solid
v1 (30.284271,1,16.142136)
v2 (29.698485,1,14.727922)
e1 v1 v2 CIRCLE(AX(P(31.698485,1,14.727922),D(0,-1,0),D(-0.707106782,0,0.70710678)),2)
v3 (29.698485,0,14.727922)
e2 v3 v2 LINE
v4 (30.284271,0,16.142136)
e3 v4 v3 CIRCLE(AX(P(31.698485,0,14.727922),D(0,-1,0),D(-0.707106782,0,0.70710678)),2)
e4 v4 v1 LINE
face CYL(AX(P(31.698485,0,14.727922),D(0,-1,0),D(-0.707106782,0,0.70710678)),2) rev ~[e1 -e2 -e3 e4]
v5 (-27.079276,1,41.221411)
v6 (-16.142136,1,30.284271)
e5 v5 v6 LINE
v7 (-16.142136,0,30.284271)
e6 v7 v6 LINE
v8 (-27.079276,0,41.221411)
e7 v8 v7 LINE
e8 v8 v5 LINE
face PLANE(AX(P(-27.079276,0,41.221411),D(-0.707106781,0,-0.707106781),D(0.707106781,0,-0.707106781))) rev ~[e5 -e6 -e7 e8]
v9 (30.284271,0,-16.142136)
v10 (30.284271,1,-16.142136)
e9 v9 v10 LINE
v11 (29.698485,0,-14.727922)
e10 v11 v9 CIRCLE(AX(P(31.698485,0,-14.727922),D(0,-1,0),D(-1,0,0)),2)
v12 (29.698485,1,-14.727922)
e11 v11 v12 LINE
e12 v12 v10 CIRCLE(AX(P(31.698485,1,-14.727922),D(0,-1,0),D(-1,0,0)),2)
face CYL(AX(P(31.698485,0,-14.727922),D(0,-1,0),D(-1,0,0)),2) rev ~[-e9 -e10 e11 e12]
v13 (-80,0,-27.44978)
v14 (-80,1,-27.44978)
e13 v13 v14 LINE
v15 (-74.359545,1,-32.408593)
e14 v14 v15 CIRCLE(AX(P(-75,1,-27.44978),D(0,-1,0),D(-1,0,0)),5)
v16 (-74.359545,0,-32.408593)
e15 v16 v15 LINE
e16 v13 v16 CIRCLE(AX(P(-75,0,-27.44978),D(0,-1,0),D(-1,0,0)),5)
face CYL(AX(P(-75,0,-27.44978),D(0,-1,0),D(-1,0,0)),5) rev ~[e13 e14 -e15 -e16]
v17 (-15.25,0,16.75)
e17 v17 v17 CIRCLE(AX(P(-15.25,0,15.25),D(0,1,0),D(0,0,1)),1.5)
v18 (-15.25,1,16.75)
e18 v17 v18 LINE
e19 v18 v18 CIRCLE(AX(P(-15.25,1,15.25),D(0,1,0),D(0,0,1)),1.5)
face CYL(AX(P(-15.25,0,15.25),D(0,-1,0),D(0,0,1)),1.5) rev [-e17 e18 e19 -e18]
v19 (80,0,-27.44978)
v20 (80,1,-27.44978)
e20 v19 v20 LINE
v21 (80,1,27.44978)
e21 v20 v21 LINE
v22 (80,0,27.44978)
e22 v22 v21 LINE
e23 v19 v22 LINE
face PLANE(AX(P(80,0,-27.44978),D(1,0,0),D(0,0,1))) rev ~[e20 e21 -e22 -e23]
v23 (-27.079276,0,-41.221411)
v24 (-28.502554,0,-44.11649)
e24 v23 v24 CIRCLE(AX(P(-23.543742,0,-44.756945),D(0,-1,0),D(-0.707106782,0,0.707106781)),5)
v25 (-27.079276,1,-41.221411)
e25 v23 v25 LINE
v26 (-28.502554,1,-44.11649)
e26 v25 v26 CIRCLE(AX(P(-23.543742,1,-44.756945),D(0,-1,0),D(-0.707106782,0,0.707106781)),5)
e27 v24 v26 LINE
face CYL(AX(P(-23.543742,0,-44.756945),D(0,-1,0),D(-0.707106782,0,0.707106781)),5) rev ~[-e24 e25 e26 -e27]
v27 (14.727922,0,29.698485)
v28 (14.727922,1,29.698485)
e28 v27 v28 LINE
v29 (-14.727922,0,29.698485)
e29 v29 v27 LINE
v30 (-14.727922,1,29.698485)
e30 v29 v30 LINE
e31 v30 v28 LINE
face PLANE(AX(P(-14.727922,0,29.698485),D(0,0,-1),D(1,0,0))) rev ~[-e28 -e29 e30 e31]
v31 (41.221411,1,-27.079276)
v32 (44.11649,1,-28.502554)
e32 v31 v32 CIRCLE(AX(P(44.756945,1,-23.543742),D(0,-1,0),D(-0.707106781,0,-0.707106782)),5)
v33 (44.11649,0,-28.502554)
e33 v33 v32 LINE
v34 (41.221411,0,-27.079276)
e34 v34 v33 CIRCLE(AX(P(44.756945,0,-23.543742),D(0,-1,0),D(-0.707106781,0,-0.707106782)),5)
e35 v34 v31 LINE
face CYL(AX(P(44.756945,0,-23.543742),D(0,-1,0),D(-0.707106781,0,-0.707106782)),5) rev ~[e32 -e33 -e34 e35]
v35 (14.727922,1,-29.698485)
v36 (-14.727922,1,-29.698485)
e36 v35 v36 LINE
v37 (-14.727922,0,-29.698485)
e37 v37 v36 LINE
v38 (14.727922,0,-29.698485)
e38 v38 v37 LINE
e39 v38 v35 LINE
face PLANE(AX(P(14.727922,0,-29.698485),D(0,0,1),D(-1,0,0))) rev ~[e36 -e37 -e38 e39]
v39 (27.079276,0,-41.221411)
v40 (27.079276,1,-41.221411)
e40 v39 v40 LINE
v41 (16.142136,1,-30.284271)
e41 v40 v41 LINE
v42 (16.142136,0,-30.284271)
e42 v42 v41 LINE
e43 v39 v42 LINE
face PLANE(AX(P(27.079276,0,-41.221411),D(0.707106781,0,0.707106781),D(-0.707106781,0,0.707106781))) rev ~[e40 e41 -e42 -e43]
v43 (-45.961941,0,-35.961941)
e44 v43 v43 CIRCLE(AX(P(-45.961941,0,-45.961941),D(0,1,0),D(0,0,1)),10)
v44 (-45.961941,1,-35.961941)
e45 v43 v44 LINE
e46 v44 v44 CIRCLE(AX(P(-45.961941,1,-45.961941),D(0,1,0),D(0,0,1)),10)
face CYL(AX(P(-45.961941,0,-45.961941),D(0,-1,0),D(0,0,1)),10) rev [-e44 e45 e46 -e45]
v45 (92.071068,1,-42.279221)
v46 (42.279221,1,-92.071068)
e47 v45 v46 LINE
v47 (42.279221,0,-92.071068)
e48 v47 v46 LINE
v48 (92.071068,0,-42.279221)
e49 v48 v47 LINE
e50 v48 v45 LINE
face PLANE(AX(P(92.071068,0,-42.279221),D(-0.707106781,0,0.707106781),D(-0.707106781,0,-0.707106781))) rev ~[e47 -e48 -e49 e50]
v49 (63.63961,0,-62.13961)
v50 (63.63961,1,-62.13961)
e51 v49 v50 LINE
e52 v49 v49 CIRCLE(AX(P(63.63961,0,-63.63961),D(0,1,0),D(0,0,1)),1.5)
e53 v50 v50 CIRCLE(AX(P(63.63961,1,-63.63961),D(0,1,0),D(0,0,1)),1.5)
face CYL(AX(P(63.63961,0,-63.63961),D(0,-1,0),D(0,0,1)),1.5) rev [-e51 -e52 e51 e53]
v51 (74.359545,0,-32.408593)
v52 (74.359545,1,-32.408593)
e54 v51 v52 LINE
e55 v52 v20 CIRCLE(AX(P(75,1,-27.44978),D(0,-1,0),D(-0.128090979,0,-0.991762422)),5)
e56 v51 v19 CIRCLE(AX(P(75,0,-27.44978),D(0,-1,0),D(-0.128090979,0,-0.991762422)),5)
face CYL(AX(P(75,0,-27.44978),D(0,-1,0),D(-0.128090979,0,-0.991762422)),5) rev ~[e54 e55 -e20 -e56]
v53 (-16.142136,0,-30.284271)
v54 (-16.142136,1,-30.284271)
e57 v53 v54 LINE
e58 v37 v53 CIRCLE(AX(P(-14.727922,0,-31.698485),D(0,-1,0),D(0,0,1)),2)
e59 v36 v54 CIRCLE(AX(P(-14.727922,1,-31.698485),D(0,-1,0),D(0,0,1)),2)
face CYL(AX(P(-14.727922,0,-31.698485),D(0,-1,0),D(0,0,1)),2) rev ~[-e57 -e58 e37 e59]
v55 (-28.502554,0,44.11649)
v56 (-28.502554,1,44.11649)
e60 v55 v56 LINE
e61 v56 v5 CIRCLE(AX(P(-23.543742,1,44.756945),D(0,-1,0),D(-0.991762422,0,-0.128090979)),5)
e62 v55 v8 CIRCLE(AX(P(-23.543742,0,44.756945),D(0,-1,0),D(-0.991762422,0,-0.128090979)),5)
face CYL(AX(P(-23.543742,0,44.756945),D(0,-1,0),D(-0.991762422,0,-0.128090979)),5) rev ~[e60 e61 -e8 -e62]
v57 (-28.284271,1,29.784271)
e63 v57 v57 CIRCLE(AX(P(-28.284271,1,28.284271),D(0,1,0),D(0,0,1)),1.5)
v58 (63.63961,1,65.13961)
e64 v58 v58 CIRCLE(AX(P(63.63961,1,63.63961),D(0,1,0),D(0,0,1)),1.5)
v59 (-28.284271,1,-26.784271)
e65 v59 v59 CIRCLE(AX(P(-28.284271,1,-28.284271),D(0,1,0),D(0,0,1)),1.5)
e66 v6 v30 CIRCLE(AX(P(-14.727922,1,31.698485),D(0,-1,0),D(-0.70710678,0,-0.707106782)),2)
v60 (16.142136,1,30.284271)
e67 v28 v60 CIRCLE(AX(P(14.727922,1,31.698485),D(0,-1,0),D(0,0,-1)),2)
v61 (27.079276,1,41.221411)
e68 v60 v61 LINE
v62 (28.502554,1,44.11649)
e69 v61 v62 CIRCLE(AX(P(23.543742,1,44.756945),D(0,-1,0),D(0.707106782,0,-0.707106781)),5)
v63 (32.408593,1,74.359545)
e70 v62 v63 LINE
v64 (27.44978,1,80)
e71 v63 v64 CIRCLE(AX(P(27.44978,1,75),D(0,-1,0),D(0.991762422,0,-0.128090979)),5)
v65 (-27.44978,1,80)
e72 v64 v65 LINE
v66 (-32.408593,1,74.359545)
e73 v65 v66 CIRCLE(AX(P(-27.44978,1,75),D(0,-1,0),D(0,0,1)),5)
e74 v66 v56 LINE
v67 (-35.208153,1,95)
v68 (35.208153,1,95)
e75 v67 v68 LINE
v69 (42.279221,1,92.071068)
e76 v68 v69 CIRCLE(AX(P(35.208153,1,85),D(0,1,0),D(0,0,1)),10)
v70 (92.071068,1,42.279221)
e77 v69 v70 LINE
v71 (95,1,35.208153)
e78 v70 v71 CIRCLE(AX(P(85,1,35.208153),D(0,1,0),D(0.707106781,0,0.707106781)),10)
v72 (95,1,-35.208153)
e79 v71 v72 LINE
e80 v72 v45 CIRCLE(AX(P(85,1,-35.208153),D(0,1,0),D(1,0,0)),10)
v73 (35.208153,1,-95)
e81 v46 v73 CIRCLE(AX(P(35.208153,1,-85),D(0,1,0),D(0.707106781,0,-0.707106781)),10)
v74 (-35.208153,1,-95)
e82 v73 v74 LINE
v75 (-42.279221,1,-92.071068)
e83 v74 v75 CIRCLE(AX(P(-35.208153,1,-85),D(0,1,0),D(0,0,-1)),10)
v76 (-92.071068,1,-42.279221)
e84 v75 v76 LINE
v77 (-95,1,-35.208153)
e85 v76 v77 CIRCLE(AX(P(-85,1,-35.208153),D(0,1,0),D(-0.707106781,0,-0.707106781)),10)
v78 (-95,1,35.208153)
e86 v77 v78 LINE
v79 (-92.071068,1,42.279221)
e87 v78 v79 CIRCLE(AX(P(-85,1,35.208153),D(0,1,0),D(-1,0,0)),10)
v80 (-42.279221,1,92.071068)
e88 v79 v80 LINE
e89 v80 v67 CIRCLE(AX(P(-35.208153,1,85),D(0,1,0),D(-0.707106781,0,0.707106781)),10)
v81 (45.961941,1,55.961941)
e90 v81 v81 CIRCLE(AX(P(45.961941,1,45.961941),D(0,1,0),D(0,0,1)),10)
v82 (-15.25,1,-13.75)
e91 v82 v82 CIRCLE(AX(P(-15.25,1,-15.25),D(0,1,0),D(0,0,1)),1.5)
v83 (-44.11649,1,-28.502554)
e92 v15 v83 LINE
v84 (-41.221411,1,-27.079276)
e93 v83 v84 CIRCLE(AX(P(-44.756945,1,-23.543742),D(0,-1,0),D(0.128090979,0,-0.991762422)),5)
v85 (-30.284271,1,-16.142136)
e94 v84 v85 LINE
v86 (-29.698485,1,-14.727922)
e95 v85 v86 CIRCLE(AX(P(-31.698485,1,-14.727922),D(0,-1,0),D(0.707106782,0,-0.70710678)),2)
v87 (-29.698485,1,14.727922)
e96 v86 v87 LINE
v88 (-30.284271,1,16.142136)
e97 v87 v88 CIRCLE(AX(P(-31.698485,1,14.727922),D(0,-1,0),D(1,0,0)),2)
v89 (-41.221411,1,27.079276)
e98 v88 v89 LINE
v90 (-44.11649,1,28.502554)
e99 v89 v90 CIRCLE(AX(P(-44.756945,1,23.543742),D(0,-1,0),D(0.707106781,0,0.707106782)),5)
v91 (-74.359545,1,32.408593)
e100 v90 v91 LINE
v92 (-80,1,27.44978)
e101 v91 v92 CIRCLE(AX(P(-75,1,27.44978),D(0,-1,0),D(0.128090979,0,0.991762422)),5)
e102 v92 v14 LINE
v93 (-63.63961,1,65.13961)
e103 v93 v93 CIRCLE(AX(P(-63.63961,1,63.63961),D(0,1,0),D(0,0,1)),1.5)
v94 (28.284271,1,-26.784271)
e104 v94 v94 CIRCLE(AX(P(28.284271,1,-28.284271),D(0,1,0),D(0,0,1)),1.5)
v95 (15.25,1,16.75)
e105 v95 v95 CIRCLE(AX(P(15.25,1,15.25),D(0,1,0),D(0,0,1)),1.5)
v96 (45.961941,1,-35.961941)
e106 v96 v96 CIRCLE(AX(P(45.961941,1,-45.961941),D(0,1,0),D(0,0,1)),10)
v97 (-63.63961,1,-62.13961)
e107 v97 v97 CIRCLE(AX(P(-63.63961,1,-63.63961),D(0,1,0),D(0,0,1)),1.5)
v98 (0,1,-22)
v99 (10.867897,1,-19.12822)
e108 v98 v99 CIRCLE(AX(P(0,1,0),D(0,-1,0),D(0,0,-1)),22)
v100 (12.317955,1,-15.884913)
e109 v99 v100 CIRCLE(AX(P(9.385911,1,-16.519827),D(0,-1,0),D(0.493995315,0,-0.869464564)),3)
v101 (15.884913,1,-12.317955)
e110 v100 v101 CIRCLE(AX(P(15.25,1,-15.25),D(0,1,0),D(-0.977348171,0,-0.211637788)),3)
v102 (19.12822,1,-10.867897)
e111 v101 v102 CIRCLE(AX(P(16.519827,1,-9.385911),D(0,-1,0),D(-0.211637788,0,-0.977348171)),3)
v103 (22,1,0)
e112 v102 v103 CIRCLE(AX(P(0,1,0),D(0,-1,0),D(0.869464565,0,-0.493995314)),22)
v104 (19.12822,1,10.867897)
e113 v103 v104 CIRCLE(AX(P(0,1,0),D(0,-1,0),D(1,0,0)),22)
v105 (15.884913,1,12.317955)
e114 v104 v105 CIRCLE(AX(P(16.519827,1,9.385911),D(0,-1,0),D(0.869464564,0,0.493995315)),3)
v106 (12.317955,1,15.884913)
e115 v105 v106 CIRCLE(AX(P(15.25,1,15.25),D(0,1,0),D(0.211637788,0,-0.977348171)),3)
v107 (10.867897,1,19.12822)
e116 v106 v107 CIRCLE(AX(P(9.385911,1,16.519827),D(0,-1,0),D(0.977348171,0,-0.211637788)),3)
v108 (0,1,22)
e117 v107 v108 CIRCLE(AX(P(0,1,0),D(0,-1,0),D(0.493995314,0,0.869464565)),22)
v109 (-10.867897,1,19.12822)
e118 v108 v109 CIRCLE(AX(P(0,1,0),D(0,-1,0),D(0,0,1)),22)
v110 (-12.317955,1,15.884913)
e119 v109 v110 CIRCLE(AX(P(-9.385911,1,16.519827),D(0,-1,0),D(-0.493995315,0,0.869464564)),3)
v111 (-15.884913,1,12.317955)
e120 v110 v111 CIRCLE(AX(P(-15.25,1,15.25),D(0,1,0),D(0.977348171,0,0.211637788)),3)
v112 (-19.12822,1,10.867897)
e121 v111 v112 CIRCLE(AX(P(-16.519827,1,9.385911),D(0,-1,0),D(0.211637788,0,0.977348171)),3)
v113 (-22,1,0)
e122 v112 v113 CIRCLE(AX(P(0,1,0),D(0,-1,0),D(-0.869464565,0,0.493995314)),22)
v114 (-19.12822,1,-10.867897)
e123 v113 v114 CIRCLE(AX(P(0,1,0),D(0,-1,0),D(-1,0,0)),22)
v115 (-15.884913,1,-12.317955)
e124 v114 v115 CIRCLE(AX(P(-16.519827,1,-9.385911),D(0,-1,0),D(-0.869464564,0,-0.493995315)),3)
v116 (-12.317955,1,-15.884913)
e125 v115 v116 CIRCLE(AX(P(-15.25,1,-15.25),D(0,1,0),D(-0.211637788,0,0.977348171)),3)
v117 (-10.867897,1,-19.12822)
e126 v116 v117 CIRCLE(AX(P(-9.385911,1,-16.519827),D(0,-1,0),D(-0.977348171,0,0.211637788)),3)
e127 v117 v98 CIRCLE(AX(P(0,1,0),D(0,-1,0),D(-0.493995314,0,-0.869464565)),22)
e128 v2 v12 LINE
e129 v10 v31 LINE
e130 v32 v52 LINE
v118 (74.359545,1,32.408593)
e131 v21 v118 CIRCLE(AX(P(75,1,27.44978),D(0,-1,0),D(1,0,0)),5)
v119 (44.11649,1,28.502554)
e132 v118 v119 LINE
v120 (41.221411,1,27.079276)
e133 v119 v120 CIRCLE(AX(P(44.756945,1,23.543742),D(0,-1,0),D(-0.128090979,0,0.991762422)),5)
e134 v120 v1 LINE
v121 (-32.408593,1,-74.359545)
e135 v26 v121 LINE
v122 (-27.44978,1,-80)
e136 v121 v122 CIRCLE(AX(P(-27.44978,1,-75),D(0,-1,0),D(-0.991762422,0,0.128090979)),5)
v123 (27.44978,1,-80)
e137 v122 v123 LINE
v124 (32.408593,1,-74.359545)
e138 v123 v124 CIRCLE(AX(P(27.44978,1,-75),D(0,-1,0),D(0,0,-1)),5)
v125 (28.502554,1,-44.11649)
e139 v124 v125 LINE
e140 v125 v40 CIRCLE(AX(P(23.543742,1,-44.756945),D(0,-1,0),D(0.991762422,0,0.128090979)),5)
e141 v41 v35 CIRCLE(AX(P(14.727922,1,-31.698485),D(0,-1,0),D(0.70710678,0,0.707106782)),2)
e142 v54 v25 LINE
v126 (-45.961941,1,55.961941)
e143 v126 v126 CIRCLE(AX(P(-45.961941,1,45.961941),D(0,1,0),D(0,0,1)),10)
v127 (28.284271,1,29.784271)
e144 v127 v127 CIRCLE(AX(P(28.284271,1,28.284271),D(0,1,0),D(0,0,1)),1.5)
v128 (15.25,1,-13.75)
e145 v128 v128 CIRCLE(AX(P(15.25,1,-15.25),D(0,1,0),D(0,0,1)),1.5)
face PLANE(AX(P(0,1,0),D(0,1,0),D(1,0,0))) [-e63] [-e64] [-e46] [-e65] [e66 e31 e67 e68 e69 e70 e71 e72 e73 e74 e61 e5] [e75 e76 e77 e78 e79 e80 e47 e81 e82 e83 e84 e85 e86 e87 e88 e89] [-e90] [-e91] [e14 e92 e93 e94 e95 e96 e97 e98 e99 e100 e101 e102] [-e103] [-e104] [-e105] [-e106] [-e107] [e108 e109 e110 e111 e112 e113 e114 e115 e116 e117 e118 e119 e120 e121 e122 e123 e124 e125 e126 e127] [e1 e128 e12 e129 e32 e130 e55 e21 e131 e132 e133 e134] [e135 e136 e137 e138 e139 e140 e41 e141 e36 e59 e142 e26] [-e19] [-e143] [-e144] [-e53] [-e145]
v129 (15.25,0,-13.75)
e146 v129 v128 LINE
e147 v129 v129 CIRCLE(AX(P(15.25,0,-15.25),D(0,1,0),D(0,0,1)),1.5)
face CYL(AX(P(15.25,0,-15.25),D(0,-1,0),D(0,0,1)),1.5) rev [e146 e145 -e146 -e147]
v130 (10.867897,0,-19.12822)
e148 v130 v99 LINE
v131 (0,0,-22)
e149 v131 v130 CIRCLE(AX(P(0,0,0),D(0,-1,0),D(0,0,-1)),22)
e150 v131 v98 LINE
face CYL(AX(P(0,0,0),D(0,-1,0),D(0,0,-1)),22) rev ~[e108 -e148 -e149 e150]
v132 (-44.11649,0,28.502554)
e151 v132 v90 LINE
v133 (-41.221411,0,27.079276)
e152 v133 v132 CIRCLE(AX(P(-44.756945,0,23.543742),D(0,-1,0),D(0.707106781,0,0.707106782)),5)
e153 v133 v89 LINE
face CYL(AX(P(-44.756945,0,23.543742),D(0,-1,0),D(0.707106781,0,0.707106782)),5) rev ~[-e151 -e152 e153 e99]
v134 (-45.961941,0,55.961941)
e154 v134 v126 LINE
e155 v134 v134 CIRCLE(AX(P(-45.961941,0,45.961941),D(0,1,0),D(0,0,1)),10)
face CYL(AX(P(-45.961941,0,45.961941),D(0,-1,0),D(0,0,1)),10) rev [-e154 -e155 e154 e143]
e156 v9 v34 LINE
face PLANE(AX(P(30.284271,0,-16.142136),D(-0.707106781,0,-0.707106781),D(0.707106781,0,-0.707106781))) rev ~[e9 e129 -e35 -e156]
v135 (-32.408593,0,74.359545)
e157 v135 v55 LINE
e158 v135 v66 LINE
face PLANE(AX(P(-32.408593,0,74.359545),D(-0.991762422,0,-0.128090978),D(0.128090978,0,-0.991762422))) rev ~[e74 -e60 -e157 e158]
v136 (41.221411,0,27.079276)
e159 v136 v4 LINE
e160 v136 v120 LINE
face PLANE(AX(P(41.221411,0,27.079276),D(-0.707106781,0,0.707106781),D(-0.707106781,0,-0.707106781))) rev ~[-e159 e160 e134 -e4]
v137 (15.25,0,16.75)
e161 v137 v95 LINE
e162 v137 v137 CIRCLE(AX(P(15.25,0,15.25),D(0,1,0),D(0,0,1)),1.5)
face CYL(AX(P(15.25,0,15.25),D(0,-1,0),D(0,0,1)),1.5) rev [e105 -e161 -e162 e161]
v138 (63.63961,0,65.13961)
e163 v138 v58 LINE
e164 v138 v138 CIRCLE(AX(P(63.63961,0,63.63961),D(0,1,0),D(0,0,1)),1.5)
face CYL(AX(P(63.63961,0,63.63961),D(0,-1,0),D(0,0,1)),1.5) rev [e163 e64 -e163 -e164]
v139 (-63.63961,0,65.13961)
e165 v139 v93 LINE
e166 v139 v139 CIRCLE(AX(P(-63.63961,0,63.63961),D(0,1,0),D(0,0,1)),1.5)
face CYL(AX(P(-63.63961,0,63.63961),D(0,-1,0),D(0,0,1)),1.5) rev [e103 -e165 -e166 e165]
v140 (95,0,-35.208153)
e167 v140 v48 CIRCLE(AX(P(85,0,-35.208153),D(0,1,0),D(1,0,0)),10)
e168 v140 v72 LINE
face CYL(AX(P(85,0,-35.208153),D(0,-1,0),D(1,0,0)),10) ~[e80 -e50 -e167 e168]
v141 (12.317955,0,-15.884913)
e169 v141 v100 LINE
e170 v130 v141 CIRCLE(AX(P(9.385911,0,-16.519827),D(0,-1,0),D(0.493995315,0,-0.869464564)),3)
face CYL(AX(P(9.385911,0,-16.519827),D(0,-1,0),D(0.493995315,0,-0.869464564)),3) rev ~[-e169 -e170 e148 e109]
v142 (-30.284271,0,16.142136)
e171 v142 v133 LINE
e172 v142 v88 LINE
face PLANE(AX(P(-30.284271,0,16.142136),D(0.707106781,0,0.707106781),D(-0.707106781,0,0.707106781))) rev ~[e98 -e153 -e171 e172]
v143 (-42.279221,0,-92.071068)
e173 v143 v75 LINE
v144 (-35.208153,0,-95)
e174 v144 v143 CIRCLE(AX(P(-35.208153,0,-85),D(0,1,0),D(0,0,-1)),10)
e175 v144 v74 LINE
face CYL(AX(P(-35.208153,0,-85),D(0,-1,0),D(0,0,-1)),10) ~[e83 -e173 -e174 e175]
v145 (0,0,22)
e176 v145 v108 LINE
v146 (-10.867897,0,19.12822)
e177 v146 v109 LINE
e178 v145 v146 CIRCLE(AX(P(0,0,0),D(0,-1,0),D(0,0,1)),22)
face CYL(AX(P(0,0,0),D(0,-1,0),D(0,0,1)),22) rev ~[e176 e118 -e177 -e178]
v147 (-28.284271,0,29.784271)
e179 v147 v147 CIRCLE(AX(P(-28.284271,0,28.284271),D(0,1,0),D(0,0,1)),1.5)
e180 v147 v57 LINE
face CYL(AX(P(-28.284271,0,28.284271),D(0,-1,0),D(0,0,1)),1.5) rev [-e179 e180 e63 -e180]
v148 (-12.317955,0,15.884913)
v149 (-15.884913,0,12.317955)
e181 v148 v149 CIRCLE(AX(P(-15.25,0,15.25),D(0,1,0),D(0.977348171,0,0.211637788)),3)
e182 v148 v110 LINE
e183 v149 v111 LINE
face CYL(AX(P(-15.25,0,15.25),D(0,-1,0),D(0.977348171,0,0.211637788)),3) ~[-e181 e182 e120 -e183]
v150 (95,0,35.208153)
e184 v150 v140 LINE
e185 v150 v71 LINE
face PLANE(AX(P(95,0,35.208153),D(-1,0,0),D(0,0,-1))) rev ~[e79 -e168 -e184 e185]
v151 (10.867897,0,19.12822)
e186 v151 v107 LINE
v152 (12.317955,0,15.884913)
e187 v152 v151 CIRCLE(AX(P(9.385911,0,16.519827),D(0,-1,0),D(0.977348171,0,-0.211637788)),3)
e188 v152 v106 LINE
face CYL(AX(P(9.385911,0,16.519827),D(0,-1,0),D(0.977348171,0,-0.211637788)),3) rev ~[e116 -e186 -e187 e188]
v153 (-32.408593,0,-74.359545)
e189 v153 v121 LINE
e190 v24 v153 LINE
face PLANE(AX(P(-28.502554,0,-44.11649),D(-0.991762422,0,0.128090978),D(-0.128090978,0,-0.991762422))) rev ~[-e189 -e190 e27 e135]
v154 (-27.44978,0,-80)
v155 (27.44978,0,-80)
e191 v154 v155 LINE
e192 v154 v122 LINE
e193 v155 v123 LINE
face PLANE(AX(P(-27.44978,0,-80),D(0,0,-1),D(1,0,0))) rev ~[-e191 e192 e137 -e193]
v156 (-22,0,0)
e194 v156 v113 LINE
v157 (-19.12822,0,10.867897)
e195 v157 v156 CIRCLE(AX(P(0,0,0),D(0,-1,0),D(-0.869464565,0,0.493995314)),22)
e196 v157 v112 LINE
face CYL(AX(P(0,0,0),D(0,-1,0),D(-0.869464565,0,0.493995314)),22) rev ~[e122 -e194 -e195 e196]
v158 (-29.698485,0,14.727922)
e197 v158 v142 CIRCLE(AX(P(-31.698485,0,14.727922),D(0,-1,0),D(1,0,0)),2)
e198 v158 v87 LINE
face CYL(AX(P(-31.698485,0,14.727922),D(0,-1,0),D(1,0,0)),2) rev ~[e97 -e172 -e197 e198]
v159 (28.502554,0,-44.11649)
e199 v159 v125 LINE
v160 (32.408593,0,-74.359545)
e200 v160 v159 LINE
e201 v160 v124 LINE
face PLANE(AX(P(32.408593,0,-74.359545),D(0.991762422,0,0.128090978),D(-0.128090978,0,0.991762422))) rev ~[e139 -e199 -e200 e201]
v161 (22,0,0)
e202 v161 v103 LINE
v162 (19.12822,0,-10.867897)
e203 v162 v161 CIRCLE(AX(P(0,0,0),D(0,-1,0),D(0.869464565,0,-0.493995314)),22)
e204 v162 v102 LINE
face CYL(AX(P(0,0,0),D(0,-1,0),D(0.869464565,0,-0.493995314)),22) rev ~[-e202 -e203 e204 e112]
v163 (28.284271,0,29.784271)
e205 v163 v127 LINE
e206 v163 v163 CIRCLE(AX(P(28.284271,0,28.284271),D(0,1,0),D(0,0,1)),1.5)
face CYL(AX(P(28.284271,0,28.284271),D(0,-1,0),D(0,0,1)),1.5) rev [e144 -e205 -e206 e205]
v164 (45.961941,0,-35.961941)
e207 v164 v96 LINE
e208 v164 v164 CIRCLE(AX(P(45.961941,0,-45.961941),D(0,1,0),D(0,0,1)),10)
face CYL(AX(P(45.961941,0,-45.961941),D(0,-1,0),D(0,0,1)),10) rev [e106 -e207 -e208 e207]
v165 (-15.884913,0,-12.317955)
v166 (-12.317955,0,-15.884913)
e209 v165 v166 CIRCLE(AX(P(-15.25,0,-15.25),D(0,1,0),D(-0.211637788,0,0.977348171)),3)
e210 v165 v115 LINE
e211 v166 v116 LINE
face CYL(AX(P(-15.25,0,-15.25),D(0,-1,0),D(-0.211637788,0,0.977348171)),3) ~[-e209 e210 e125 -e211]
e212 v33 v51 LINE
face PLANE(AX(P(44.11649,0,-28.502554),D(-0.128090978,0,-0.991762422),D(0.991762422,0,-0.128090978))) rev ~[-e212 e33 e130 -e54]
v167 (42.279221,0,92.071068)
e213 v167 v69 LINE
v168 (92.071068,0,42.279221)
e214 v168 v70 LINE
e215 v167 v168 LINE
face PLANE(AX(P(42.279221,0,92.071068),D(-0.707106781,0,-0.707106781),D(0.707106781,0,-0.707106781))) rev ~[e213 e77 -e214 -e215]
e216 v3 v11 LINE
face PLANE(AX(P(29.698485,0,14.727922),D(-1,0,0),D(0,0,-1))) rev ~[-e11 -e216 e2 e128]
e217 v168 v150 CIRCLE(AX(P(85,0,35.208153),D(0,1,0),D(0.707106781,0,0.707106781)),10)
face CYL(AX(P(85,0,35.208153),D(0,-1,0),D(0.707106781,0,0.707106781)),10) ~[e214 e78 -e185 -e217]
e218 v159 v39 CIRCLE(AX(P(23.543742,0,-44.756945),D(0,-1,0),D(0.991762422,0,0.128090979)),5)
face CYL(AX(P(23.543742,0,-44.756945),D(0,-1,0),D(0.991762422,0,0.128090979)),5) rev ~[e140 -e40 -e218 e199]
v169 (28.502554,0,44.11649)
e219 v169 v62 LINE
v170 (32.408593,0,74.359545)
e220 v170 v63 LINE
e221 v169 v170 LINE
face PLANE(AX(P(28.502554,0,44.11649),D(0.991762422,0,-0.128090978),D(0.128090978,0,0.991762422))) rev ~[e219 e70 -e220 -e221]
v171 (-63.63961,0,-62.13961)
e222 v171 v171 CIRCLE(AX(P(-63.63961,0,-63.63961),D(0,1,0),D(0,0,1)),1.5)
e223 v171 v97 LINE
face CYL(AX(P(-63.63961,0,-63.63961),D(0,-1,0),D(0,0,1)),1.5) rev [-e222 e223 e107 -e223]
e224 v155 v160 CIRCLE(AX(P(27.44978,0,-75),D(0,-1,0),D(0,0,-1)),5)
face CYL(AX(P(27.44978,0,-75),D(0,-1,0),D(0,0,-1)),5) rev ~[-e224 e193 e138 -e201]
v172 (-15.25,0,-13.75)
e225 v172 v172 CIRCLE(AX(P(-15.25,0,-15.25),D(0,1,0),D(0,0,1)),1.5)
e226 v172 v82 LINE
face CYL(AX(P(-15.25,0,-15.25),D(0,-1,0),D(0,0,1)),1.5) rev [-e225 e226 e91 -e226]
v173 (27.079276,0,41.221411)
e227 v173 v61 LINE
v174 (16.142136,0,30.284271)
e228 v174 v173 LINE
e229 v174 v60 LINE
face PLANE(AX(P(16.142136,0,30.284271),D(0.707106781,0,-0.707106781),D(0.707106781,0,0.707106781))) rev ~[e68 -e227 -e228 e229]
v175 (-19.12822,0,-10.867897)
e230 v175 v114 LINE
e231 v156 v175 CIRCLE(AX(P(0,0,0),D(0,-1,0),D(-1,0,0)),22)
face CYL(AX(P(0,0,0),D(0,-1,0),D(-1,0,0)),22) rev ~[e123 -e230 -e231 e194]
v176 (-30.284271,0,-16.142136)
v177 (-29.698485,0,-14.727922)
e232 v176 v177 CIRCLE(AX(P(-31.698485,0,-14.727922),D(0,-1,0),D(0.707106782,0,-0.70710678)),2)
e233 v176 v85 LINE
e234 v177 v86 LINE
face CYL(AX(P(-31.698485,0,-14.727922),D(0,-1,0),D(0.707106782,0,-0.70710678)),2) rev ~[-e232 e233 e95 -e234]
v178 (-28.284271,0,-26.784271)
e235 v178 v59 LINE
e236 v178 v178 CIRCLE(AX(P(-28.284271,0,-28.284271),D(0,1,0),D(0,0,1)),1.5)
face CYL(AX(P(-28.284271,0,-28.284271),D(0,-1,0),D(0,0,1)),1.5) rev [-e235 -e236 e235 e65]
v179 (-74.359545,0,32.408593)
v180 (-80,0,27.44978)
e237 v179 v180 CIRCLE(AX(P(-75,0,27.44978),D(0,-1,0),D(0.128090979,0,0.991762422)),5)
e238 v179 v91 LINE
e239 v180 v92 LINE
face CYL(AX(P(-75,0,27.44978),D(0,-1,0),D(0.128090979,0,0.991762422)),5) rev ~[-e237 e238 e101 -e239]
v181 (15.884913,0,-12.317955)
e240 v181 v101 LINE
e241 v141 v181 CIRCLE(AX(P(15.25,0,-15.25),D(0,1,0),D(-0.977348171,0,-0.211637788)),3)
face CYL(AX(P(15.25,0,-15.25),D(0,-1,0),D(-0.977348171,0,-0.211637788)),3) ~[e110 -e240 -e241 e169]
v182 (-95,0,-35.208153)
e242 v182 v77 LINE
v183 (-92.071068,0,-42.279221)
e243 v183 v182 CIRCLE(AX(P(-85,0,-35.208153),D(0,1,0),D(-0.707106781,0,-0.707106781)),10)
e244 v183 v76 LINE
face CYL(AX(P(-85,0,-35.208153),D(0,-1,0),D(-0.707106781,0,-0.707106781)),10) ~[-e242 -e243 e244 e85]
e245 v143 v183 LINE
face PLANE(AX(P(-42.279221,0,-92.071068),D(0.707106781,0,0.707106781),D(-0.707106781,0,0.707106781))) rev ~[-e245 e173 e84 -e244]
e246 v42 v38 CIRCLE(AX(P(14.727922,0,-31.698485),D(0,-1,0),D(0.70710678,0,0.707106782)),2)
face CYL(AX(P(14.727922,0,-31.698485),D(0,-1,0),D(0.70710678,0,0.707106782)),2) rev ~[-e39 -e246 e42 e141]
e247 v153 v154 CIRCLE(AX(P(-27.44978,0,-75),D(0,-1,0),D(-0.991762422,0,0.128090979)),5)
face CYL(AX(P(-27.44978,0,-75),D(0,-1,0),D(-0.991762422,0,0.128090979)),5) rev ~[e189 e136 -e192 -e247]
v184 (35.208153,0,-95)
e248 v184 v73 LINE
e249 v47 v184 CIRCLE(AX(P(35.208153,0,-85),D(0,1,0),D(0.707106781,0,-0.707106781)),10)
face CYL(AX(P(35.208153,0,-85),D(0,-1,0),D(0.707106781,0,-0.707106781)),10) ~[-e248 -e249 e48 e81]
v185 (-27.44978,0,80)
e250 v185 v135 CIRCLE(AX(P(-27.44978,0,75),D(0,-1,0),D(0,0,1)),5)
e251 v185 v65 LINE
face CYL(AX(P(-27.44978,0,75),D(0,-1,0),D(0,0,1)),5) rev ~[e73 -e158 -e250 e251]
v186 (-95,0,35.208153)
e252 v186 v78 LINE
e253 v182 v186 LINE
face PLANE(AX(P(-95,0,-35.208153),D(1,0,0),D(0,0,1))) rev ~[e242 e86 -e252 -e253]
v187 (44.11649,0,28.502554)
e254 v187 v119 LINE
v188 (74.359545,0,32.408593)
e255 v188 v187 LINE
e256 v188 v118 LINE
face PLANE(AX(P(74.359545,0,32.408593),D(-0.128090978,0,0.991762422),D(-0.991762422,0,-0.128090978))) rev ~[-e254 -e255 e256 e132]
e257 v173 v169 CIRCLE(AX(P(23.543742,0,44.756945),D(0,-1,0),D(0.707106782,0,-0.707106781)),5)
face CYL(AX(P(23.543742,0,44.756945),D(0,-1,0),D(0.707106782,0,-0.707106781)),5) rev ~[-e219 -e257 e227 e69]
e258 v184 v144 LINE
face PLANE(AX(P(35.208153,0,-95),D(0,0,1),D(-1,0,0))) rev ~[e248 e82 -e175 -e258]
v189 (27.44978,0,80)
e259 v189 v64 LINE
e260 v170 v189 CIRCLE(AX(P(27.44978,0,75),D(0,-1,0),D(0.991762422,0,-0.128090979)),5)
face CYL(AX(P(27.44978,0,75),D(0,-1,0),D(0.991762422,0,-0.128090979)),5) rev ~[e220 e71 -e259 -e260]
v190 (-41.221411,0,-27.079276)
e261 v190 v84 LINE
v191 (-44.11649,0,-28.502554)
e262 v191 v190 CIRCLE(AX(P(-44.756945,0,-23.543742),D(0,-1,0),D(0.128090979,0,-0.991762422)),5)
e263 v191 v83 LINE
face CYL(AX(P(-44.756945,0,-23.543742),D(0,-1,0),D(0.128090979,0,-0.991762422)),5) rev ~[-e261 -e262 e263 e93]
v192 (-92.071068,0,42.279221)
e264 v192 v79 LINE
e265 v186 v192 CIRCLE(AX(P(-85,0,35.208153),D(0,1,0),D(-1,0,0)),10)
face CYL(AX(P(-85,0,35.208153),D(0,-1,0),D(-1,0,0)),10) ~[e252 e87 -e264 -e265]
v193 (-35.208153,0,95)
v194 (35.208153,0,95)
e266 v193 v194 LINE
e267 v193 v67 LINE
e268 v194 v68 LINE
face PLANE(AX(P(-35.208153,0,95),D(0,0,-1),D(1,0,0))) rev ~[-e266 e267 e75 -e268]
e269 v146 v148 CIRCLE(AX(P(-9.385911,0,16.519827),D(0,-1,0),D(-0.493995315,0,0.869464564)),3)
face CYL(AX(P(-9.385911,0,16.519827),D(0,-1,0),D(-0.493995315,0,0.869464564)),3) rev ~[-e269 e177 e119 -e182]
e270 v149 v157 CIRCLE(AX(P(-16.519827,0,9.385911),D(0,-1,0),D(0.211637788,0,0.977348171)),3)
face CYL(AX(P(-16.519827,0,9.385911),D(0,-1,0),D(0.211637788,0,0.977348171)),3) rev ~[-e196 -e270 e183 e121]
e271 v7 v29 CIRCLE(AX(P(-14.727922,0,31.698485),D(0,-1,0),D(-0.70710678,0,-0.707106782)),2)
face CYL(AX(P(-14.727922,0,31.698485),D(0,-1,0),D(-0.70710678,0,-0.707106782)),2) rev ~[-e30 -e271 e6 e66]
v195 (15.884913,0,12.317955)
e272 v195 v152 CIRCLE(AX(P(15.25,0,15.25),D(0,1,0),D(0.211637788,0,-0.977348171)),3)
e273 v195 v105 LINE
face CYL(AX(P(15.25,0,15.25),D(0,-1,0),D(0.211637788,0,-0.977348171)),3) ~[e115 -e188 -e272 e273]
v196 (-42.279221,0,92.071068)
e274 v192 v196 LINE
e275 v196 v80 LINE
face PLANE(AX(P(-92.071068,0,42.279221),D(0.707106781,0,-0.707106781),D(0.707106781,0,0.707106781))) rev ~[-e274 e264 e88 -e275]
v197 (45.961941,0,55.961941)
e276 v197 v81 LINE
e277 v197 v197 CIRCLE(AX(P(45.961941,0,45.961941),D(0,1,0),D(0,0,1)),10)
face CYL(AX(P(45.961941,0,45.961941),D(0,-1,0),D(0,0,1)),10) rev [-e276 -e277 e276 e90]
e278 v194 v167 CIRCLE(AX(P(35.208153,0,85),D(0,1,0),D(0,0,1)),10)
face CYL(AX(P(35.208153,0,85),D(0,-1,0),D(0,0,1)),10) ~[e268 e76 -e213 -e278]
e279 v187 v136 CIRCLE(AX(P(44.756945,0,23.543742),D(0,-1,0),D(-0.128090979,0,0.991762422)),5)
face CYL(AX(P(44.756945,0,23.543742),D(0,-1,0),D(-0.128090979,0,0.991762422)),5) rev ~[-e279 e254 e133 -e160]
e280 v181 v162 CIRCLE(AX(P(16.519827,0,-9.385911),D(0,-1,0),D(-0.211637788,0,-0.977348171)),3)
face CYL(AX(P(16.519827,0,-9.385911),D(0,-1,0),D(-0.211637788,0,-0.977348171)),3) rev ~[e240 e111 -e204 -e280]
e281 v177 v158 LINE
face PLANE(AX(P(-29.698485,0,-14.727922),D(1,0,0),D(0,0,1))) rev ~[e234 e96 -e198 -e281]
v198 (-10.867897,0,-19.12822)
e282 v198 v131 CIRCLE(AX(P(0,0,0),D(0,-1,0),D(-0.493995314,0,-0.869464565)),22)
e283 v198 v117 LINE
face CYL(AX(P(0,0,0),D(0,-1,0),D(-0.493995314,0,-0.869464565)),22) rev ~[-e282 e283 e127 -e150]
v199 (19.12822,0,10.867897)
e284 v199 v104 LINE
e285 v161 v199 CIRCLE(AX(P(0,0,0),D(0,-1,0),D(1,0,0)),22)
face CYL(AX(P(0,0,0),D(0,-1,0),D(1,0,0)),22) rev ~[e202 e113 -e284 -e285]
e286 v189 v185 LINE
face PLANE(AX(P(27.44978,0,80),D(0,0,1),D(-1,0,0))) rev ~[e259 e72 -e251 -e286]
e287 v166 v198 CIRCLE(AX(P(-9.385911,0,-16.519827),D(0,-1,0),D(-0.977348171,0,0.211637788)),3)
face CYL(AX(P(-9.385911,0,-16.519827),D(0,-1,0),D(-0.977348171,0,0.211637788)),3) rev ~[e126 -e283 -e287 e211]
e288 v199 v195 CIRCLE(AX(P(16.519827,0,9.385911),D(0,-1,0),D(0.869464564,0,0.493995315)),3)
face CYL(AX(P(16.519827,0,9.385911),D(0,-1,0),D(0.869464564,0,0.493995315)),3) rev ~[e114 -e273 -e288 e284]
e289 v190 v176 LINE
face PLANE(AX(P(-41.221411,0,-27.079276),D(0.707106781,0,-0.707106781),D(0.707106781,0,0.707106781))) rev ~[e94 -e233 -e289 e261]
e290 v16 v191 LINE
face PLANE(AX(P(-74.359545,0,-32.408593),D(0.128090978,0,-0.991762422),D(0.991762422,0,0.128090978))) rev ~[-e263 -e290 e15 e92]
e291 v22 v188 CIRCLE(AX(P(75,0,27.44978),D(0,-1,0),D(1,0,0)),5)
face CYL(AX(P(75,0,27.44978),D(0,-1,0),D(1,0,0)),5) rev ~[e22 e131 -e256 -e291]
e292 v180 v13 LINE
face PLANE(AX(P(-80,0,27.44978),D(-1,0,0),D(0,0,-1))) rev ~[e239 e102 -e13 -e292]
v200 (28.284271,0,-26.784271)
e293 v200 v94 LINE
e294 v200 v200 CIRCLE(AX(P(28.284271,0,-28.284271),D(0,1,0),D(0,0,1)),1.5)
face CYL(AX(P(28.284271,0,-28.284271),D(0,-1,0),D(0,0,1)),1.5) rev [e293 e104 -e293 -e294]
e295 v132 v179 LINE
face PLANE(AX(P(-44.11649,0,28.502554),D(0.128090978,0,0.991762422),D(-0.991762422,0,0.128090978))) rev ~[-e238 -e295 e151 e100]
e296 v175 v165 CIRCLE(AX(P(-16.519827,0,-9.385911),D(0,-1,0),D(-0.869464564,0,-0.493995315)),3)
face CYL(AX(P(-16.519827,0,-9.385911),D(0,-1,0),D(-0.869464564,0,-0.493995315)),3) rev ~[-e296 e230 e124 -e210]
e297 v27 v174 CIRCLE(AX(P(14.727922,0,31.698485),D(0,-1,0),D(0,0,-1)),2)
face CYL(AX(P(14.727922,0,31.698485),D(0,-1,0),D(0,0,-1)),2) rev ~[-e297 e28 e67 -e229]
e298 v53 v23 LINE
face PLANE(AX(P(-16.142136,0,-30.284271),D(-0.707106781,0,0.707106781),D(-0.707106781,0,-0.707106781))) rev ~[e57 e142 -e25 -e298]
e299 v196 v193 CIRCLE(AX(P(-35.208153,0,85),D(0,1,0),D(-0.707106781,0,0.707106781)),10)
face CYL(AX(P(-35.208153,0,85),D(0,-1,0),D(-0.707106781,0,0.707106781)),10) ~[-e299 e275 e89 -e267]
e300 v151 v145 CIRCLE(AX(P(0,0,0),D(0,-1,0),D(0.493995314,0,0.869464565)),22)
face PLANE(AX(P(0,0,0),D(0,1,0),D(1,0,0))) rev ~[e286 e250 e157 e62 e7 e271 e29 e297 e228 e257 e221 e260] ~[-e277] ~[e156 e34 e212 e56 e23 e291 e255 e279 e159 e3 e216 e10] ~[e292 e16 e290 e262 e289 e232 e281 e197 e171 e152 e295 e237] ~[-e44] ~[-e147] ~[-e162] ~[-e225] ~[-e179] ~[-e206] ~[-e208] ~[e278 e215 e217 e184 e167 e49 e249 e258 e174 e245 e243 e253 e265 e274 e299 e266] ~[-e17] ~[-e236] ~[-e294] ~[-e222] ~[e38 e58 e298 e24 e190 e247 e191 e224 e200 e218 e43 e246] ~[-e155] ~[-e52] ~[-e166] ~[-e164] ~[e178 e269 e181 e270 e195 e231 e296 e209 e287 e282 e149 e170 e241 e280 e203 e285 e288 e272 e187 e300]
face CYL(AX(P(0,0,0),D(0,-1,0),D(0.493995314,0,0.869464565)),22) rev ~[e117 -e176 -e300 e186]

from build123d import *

# Parameters (mm, degrees)
SKETCH1_R           = 1.5
SKETCH1_R_2         = 10
BOSS_EXTRUDE1_DEPTH = 1


with BuildPart() as part:
    # Sketch1 → Boss-Extrude1 (new body)
    with BuildSketch(Plane(origin=(0, 0, 0), x_dir=(1, 0, 0), z_dir=(0, 1, 0))):
        with BuildLine():
            Line((92.071067812, 42.279220614), (42.279220614, 92.071067812))
            ThreePointArc((42.279220614, 92.071067812), (39.034987125, 94.238795325), (35.208152802, 95))
            Line((35.208152802, 95), (-35.208152802, 95))
            ThreePointArc((-35.208152802, 95), (-39.034987125, 94.238795325), (-42.279220614, 92.071067812))
            Line((-42.279220614, 92.071067812), (-92.071067812, 42.279220614))
            ThreePointArc((-92.071067812, 42.279220614), (-94.238795325, 39.034987125), (-95, 35.208152802))
            Line((-95, 35.208152802), (-95, -35.208152802))
            ThreePointArc((-95, -35.208152802), (-94.238795325, -39.034987125), (-92.071067812, -42.279220614))
            Line((-92.071067812, -42.279220614), (-42.279220614, -92.071067812))
            ThreePointArc((-42.279220614, -92.071067812), (-39.034987125, -94.238795325), (-35.208152802, -95))
            Line((-35.208152802, -95), (35.208152802, -95))
            ThreePointArc((35.208152802, -95), (39.034987125, -94.238795325), (42.279220614, -92.071067812))
            Line((42.279220614, -92.071067812), (92.071067812, -42.279220614))
            ThreePointArc((92.071067812, -42.279220614), (94.238795325, -39.034987125), (95, -35.208152802))
            Line((95, -35.208152802), (95, 35.208152802))
            ThreePointArc((95, 35.208152802), (94.238795325, 39.034987125), (92.071067812, 42.279220614))
        make_face()
        with Locations(Location((63.639610307, 63.639610307, 0), (0, 0, 270))):
            Circle(SKETCH1_R, mode=Mode.SUBTRACT)
        with Locations(Location((28.284271247, 28.284271247, 0), (0, 0, 270))):
            Circle(SKETCH1_R, mode=Mode.SUBTRACT)
        with Locations(Location((63.639610307, -63.639610307, 0), (0, 0, 270))):
            Circle(SKETCH1_R, mode=Mode.SUBTRACT)
        with Locations(Location((28.284271247, -28.284271247, 0), (0, 0, 270))):
            Circle(SKETCH1_R, mode=Mode.SUBTRACT)
        with Locations(Location((-63.639610307, -63.639610307, 0), (0, 0, 270))):
            Circle(SKETCH1_R, mode=Mode.SUBTRACT)
        with Locations(Location((-28.284271247, -28.284271247, 0), (0, 0, 270))):
            Circle(SKETCH1_R, mode=Mode.SUBTRACT)
        with Locations(Location((-63.639610307, 63.639610307, 0), (0, 0, 270))):
            Circle(SKETCH1_R, mode=Mode.SUBTRACT)
        with Locations(Location((-28.284271247, 28.284271247, 0), (0, 0, 270))):
            Circle(SKETCH1_R, mode=Mode.SUBTRACT)
        with Locations(Location((-45.961940777, 45.961940777, 0), (0, 0, 270))):
            Circle(SKETCH1_R_2, mode=Mode.SUBTRACT)
        with Locations(Location((45.961940777, 45.961940777, 0), (0, 0, 270))):
            Circle(SKETCH1_R_2, mode=Mode.SUBTRACT)
        with Locations(Location((45.961940777, -45.961940777, 0), (0, 0, 270))):
            Circle(SKETCH1_R_2, mode=Mode.SUBTRACT)
        with Locations(Location((-45.961940777, -45.961940777, 0), (0, 0, 270))):
            Circle(SKETCH1_R_2, mode=Mode.SUBTRACT)
        with Locations(Location((15.25, 15.25, 0), (0, 0, 270))):
            Circle(SKETCH1_R, mode=Mode.SUBTRACT)
        with Locations(Location((15.25, -15.25, 0), (0, 0, 270))):
            Circle(SKETCH1_R, mode=Mode.SUBTRACT)
        with Locations(Location((-15.25, -15.25, 0), (0, 0, 270))):
            Circle(SKETCH1_R, mode=Mode.SUBTRACT)
        with Locations(Location((-15.25, 15.25, 0), (0, 0, 270))):
            Circle(SKETCH1_R, mode=Mode.SUBTRACT)
        with BuildLine():
            Line((27.079275596, 41.221411219), (16.142135624, 30.284271247))
            ThreePointArc((16.142135624, 30.284271247), (15.493288926, 29.850725745), (14.727922061, 29.69848481))
            Line((14.727922061, 29.69848481), (-14.727922061, 29.69848481))
            ThreePointArc((-14.727922061, 29.69848481), (-15.493288926, 29.850725745), (-16.142135624, 30.284271247))
            Line((-16.142135624, 30.284271247), (-27.079275596, 41.221411219))
            ThreePointArc((-27.079275596, 41.221411219), (-28.030817483, 42.551009763), (-28.502553799, 44.116490233))
            Line((-28.502553799, 44.116490233), (-32.40859259, 74.359545108))
            ThreePointArc((-32.40859259, 74.359545108), (-31.204928579, 78.301342571), (-27.449780482, 80))
            Line((-27.449780482, 80), (27.449780482, 80))
            ThreePointArc((27.449780482, 80), (31.204928579, 78.301342571), (32.40859259, 74.359545108))
            Line((32.40859259, 74.359545108), (28.502553799, 44.116490233))
            ThreePointArc((28.502553799, 44.116490233), (28.030817483, 42.551009763), (27.079275596, 41.221411219))
        make_face(mode=Mode.SUBTRACT)
        with BuildLine():
            Line((30.284271247, 16.142135624), (41.221411219, 27.079275596))
            ThreePointArc((41.221411219, 27.079275596), (42.551009763, 28.030817483), (44.116490233, 28.502553799))
            Line((44.116490233, 28.502553799), (74.359545108, 32.40859259))
            ThreePointArc((74.359545108, 32.40859259), (78.301342571, 31.204928579), (80, 27.449780482))
            Line((80, 27.449780482), (80, -27.449780482))
            ThreePointArc((80, -27.449780482), (78.301342571, -31.204928579), (74.359545108, -32.40859259))
            Line((74.359545108, -32.40859259), (44.116490233, -28.502553799))
            ThreePointArc((44.116490233, -28.502553799), (42.551009763, -28.030817483), (41.221411219, -27.079275596))
            Line((41.221411219, -27.079275596), (30.284271247, -16.142135624))
            ThreePointArc((30.284271247, -16.142135624), (29.850725745, -15.493288926), (29.69848481, -14.727922061))
            Line((29.69848481, -14.727922061), (29.69848481, 14.727922061))
            ThreePointArc((29.69848481, 14.727922061), (29.850725745, 15.493288926), (30.284271247, 16.142135624))
        make_face(mode=Mode.SUBTRACT)
        with BuildLine():
            Line((16.142135624, -30.284271247), (27.079275596, -41.221411219))
            ThreePointArc((27.079275596, -41.221411219), (28.030817483, -42.551009763), (28.502553799, -44.116490233))
            Line((28.502553799, -44.116490233), (32.40859259, -74.359545108))
            ThreePointArc((32.40859259, -74.359545108), (31.204928579, -78.301342571), (27.449780482, -80))
            Line((27.449780482, -80), (-27.449780482, -80))
            ThreePointArc((-27.449780482, -80), (-31.204928579, -78.301342571), (-32.40859259, -74.359545108))
            Line((-32.40859259, -74.359545108), (-28.502553799, -44.116490233))
            ThreePointArc((-28.502553799, -44.116490233), (-28.030817483, -42.551009763), (-27.079275596, -41.221411219))
            Line((-27.079275596, -41.221411219), (-16.142135624, -30.284271247))
            ThreePointArc((-16.142135624, -30.284271247), (-15.493288926, -29.850725745), (-14.727922061, -29.69848481))
            Line((-14.727922061, -29.69848481), (14.727922061, -29.69848481))
            ThreePointArc((14.727922061, -29.69848481), (15.493288926, -29.850725745), (16.142135624, -30.284271247))
        make_face(mode=Mode.SUBTRACT)
        with BuildLine():
            Line((-30.284271247, -16.142135624), (-41.221411219, -27.079275596))
            ThreePointArc((-41.221411219, -27.079275596), (-42.551009763, -28.030817483), (-44.116490233, -28.502553799))
            Line((-44.116490233, -28.502553799), (-74.359545108, -32.40859259))
            ThreePointArc((-74.359545108, -32.40859259), (-78.301342571, -31.204928579), (-80, -27.449780482))
            Line((-80, -27.449780482), (-80, 27.449780482))
            ThreePointArc((-80, 27.449780482), (-78.301342571, 31.204928579), (-74.359545108, 32.40859259))
            Line((-74.359545108, 32.40859259), (-44.116490233, 28.502553799))
            ThreePointArc((-44.116490233, 28.502553799), (-42.551009763, 28.030817483), (-41.221411219, 27.079275596))
            Line((-41.221411219, 27.079275596), (-30.284271247, 16.142135624))
            ThreePointArc((-30.284271247, 16.142135624), (-29.850725745, 15.493288926), (-29.69848481, 14.727922061))
            Line((-29.69848481, 14.727922061), (-29.69848481, -14.727922061))
            ThreePointArc((-29.69848481, -14.727922061), (-29.850725745, -15.493288926), (-30.284271247, -16.142135624))
        make_face(mode=Mode.SUBTRACT)
        with BuildLine():
            ThreePointArc((22, 0), (21.269941811, -5.620460422), (19.128220423, -10.86789692))
            ThreePointArc((19.128220423, -10.86789692), (17.744295436, -12.124647251), (15.884913364, -12.317955488))
            ThreePointArc((15.884913364, -12.317955488), (13.128679656, -13.128679656), (12.317955488, -15.884913364))
            ThreePointArc((12.317955488, -15.884913364), (12.124647251, -17.744295436), (10.86789692, -19.128220423))
            ThreePointArc((10.86789692, -19.128220423), (5.620460422, -21.269941811), (0, -22))
            ThreePointArc((0, -22), (-5.620460422, -21.269941811), (-10.86789692, -19.128220423))
            ThreePointArc((-10.86789692, -19.128220423), (-12.124647251, -17.744295436), (-12.317955488, -15.884913364))
            ThreePointArc((-12.317955488, -15.884913364), (-13.128679656, -13.128679656), (-15.884913364, -12.317955488))
            ThreePointArc((-15.884913364, -12.317955488), (-17.744295436, -12.124647251), (-19.128220423, -10.86789692))
            ThreePointArc((-19.128220423, -10.86789692), (-21.269941811, -5.620460422), (-22, 0))
            ThreePointArc((-22, 0), (-21.269941811, 5.620460422), (-19.128220423, 10.86789692))
            ThreePointArc((-19.128220423, 10.86789692), (-17.744295436, 12.124647251), (-15.884913364, 12.317955488))
            ThreePointArc((-15.884913364, 12.317955488), (-13.128679656, 13.128679656), (-12.317955488, 15.884913364))
            ThreePointArc((-12.317955488, 15.884913364), (-12.124647251, 17.744295436), (-10.86789692, 19.128220423))
            ThreePointArc((-10.86789692, 19.128220423), (-5.620460422, 21.269941811), (0, 22))
            ThreePointArc((0, 22), (5.620460422, 21.269941811), (10.86789692, 19.128220423))
            ThreePointArc((10.86789692, 19.128220423), (12.124647251, 17.744295436), (12.317955488, 15.884913364))
            ThreePointArc((12.317955488, 15.884913364), (13.128679656, 13.128679656), (15.884913364, 12.317955488))
            ThreePointArc((15.884913364, 12.317955488), (17.744295436, 12.124647251), (19.128220423, 10.86789692))
            ThreePointArc((19.128220423, 10.86789692), (21.269941811, 5.620460422), (22, 0))
        make_face(mode=Mode.SUBTRACT)
    extrude(amount=BOSS_EXTRUDE1_DEPTH)


solid = part.part
